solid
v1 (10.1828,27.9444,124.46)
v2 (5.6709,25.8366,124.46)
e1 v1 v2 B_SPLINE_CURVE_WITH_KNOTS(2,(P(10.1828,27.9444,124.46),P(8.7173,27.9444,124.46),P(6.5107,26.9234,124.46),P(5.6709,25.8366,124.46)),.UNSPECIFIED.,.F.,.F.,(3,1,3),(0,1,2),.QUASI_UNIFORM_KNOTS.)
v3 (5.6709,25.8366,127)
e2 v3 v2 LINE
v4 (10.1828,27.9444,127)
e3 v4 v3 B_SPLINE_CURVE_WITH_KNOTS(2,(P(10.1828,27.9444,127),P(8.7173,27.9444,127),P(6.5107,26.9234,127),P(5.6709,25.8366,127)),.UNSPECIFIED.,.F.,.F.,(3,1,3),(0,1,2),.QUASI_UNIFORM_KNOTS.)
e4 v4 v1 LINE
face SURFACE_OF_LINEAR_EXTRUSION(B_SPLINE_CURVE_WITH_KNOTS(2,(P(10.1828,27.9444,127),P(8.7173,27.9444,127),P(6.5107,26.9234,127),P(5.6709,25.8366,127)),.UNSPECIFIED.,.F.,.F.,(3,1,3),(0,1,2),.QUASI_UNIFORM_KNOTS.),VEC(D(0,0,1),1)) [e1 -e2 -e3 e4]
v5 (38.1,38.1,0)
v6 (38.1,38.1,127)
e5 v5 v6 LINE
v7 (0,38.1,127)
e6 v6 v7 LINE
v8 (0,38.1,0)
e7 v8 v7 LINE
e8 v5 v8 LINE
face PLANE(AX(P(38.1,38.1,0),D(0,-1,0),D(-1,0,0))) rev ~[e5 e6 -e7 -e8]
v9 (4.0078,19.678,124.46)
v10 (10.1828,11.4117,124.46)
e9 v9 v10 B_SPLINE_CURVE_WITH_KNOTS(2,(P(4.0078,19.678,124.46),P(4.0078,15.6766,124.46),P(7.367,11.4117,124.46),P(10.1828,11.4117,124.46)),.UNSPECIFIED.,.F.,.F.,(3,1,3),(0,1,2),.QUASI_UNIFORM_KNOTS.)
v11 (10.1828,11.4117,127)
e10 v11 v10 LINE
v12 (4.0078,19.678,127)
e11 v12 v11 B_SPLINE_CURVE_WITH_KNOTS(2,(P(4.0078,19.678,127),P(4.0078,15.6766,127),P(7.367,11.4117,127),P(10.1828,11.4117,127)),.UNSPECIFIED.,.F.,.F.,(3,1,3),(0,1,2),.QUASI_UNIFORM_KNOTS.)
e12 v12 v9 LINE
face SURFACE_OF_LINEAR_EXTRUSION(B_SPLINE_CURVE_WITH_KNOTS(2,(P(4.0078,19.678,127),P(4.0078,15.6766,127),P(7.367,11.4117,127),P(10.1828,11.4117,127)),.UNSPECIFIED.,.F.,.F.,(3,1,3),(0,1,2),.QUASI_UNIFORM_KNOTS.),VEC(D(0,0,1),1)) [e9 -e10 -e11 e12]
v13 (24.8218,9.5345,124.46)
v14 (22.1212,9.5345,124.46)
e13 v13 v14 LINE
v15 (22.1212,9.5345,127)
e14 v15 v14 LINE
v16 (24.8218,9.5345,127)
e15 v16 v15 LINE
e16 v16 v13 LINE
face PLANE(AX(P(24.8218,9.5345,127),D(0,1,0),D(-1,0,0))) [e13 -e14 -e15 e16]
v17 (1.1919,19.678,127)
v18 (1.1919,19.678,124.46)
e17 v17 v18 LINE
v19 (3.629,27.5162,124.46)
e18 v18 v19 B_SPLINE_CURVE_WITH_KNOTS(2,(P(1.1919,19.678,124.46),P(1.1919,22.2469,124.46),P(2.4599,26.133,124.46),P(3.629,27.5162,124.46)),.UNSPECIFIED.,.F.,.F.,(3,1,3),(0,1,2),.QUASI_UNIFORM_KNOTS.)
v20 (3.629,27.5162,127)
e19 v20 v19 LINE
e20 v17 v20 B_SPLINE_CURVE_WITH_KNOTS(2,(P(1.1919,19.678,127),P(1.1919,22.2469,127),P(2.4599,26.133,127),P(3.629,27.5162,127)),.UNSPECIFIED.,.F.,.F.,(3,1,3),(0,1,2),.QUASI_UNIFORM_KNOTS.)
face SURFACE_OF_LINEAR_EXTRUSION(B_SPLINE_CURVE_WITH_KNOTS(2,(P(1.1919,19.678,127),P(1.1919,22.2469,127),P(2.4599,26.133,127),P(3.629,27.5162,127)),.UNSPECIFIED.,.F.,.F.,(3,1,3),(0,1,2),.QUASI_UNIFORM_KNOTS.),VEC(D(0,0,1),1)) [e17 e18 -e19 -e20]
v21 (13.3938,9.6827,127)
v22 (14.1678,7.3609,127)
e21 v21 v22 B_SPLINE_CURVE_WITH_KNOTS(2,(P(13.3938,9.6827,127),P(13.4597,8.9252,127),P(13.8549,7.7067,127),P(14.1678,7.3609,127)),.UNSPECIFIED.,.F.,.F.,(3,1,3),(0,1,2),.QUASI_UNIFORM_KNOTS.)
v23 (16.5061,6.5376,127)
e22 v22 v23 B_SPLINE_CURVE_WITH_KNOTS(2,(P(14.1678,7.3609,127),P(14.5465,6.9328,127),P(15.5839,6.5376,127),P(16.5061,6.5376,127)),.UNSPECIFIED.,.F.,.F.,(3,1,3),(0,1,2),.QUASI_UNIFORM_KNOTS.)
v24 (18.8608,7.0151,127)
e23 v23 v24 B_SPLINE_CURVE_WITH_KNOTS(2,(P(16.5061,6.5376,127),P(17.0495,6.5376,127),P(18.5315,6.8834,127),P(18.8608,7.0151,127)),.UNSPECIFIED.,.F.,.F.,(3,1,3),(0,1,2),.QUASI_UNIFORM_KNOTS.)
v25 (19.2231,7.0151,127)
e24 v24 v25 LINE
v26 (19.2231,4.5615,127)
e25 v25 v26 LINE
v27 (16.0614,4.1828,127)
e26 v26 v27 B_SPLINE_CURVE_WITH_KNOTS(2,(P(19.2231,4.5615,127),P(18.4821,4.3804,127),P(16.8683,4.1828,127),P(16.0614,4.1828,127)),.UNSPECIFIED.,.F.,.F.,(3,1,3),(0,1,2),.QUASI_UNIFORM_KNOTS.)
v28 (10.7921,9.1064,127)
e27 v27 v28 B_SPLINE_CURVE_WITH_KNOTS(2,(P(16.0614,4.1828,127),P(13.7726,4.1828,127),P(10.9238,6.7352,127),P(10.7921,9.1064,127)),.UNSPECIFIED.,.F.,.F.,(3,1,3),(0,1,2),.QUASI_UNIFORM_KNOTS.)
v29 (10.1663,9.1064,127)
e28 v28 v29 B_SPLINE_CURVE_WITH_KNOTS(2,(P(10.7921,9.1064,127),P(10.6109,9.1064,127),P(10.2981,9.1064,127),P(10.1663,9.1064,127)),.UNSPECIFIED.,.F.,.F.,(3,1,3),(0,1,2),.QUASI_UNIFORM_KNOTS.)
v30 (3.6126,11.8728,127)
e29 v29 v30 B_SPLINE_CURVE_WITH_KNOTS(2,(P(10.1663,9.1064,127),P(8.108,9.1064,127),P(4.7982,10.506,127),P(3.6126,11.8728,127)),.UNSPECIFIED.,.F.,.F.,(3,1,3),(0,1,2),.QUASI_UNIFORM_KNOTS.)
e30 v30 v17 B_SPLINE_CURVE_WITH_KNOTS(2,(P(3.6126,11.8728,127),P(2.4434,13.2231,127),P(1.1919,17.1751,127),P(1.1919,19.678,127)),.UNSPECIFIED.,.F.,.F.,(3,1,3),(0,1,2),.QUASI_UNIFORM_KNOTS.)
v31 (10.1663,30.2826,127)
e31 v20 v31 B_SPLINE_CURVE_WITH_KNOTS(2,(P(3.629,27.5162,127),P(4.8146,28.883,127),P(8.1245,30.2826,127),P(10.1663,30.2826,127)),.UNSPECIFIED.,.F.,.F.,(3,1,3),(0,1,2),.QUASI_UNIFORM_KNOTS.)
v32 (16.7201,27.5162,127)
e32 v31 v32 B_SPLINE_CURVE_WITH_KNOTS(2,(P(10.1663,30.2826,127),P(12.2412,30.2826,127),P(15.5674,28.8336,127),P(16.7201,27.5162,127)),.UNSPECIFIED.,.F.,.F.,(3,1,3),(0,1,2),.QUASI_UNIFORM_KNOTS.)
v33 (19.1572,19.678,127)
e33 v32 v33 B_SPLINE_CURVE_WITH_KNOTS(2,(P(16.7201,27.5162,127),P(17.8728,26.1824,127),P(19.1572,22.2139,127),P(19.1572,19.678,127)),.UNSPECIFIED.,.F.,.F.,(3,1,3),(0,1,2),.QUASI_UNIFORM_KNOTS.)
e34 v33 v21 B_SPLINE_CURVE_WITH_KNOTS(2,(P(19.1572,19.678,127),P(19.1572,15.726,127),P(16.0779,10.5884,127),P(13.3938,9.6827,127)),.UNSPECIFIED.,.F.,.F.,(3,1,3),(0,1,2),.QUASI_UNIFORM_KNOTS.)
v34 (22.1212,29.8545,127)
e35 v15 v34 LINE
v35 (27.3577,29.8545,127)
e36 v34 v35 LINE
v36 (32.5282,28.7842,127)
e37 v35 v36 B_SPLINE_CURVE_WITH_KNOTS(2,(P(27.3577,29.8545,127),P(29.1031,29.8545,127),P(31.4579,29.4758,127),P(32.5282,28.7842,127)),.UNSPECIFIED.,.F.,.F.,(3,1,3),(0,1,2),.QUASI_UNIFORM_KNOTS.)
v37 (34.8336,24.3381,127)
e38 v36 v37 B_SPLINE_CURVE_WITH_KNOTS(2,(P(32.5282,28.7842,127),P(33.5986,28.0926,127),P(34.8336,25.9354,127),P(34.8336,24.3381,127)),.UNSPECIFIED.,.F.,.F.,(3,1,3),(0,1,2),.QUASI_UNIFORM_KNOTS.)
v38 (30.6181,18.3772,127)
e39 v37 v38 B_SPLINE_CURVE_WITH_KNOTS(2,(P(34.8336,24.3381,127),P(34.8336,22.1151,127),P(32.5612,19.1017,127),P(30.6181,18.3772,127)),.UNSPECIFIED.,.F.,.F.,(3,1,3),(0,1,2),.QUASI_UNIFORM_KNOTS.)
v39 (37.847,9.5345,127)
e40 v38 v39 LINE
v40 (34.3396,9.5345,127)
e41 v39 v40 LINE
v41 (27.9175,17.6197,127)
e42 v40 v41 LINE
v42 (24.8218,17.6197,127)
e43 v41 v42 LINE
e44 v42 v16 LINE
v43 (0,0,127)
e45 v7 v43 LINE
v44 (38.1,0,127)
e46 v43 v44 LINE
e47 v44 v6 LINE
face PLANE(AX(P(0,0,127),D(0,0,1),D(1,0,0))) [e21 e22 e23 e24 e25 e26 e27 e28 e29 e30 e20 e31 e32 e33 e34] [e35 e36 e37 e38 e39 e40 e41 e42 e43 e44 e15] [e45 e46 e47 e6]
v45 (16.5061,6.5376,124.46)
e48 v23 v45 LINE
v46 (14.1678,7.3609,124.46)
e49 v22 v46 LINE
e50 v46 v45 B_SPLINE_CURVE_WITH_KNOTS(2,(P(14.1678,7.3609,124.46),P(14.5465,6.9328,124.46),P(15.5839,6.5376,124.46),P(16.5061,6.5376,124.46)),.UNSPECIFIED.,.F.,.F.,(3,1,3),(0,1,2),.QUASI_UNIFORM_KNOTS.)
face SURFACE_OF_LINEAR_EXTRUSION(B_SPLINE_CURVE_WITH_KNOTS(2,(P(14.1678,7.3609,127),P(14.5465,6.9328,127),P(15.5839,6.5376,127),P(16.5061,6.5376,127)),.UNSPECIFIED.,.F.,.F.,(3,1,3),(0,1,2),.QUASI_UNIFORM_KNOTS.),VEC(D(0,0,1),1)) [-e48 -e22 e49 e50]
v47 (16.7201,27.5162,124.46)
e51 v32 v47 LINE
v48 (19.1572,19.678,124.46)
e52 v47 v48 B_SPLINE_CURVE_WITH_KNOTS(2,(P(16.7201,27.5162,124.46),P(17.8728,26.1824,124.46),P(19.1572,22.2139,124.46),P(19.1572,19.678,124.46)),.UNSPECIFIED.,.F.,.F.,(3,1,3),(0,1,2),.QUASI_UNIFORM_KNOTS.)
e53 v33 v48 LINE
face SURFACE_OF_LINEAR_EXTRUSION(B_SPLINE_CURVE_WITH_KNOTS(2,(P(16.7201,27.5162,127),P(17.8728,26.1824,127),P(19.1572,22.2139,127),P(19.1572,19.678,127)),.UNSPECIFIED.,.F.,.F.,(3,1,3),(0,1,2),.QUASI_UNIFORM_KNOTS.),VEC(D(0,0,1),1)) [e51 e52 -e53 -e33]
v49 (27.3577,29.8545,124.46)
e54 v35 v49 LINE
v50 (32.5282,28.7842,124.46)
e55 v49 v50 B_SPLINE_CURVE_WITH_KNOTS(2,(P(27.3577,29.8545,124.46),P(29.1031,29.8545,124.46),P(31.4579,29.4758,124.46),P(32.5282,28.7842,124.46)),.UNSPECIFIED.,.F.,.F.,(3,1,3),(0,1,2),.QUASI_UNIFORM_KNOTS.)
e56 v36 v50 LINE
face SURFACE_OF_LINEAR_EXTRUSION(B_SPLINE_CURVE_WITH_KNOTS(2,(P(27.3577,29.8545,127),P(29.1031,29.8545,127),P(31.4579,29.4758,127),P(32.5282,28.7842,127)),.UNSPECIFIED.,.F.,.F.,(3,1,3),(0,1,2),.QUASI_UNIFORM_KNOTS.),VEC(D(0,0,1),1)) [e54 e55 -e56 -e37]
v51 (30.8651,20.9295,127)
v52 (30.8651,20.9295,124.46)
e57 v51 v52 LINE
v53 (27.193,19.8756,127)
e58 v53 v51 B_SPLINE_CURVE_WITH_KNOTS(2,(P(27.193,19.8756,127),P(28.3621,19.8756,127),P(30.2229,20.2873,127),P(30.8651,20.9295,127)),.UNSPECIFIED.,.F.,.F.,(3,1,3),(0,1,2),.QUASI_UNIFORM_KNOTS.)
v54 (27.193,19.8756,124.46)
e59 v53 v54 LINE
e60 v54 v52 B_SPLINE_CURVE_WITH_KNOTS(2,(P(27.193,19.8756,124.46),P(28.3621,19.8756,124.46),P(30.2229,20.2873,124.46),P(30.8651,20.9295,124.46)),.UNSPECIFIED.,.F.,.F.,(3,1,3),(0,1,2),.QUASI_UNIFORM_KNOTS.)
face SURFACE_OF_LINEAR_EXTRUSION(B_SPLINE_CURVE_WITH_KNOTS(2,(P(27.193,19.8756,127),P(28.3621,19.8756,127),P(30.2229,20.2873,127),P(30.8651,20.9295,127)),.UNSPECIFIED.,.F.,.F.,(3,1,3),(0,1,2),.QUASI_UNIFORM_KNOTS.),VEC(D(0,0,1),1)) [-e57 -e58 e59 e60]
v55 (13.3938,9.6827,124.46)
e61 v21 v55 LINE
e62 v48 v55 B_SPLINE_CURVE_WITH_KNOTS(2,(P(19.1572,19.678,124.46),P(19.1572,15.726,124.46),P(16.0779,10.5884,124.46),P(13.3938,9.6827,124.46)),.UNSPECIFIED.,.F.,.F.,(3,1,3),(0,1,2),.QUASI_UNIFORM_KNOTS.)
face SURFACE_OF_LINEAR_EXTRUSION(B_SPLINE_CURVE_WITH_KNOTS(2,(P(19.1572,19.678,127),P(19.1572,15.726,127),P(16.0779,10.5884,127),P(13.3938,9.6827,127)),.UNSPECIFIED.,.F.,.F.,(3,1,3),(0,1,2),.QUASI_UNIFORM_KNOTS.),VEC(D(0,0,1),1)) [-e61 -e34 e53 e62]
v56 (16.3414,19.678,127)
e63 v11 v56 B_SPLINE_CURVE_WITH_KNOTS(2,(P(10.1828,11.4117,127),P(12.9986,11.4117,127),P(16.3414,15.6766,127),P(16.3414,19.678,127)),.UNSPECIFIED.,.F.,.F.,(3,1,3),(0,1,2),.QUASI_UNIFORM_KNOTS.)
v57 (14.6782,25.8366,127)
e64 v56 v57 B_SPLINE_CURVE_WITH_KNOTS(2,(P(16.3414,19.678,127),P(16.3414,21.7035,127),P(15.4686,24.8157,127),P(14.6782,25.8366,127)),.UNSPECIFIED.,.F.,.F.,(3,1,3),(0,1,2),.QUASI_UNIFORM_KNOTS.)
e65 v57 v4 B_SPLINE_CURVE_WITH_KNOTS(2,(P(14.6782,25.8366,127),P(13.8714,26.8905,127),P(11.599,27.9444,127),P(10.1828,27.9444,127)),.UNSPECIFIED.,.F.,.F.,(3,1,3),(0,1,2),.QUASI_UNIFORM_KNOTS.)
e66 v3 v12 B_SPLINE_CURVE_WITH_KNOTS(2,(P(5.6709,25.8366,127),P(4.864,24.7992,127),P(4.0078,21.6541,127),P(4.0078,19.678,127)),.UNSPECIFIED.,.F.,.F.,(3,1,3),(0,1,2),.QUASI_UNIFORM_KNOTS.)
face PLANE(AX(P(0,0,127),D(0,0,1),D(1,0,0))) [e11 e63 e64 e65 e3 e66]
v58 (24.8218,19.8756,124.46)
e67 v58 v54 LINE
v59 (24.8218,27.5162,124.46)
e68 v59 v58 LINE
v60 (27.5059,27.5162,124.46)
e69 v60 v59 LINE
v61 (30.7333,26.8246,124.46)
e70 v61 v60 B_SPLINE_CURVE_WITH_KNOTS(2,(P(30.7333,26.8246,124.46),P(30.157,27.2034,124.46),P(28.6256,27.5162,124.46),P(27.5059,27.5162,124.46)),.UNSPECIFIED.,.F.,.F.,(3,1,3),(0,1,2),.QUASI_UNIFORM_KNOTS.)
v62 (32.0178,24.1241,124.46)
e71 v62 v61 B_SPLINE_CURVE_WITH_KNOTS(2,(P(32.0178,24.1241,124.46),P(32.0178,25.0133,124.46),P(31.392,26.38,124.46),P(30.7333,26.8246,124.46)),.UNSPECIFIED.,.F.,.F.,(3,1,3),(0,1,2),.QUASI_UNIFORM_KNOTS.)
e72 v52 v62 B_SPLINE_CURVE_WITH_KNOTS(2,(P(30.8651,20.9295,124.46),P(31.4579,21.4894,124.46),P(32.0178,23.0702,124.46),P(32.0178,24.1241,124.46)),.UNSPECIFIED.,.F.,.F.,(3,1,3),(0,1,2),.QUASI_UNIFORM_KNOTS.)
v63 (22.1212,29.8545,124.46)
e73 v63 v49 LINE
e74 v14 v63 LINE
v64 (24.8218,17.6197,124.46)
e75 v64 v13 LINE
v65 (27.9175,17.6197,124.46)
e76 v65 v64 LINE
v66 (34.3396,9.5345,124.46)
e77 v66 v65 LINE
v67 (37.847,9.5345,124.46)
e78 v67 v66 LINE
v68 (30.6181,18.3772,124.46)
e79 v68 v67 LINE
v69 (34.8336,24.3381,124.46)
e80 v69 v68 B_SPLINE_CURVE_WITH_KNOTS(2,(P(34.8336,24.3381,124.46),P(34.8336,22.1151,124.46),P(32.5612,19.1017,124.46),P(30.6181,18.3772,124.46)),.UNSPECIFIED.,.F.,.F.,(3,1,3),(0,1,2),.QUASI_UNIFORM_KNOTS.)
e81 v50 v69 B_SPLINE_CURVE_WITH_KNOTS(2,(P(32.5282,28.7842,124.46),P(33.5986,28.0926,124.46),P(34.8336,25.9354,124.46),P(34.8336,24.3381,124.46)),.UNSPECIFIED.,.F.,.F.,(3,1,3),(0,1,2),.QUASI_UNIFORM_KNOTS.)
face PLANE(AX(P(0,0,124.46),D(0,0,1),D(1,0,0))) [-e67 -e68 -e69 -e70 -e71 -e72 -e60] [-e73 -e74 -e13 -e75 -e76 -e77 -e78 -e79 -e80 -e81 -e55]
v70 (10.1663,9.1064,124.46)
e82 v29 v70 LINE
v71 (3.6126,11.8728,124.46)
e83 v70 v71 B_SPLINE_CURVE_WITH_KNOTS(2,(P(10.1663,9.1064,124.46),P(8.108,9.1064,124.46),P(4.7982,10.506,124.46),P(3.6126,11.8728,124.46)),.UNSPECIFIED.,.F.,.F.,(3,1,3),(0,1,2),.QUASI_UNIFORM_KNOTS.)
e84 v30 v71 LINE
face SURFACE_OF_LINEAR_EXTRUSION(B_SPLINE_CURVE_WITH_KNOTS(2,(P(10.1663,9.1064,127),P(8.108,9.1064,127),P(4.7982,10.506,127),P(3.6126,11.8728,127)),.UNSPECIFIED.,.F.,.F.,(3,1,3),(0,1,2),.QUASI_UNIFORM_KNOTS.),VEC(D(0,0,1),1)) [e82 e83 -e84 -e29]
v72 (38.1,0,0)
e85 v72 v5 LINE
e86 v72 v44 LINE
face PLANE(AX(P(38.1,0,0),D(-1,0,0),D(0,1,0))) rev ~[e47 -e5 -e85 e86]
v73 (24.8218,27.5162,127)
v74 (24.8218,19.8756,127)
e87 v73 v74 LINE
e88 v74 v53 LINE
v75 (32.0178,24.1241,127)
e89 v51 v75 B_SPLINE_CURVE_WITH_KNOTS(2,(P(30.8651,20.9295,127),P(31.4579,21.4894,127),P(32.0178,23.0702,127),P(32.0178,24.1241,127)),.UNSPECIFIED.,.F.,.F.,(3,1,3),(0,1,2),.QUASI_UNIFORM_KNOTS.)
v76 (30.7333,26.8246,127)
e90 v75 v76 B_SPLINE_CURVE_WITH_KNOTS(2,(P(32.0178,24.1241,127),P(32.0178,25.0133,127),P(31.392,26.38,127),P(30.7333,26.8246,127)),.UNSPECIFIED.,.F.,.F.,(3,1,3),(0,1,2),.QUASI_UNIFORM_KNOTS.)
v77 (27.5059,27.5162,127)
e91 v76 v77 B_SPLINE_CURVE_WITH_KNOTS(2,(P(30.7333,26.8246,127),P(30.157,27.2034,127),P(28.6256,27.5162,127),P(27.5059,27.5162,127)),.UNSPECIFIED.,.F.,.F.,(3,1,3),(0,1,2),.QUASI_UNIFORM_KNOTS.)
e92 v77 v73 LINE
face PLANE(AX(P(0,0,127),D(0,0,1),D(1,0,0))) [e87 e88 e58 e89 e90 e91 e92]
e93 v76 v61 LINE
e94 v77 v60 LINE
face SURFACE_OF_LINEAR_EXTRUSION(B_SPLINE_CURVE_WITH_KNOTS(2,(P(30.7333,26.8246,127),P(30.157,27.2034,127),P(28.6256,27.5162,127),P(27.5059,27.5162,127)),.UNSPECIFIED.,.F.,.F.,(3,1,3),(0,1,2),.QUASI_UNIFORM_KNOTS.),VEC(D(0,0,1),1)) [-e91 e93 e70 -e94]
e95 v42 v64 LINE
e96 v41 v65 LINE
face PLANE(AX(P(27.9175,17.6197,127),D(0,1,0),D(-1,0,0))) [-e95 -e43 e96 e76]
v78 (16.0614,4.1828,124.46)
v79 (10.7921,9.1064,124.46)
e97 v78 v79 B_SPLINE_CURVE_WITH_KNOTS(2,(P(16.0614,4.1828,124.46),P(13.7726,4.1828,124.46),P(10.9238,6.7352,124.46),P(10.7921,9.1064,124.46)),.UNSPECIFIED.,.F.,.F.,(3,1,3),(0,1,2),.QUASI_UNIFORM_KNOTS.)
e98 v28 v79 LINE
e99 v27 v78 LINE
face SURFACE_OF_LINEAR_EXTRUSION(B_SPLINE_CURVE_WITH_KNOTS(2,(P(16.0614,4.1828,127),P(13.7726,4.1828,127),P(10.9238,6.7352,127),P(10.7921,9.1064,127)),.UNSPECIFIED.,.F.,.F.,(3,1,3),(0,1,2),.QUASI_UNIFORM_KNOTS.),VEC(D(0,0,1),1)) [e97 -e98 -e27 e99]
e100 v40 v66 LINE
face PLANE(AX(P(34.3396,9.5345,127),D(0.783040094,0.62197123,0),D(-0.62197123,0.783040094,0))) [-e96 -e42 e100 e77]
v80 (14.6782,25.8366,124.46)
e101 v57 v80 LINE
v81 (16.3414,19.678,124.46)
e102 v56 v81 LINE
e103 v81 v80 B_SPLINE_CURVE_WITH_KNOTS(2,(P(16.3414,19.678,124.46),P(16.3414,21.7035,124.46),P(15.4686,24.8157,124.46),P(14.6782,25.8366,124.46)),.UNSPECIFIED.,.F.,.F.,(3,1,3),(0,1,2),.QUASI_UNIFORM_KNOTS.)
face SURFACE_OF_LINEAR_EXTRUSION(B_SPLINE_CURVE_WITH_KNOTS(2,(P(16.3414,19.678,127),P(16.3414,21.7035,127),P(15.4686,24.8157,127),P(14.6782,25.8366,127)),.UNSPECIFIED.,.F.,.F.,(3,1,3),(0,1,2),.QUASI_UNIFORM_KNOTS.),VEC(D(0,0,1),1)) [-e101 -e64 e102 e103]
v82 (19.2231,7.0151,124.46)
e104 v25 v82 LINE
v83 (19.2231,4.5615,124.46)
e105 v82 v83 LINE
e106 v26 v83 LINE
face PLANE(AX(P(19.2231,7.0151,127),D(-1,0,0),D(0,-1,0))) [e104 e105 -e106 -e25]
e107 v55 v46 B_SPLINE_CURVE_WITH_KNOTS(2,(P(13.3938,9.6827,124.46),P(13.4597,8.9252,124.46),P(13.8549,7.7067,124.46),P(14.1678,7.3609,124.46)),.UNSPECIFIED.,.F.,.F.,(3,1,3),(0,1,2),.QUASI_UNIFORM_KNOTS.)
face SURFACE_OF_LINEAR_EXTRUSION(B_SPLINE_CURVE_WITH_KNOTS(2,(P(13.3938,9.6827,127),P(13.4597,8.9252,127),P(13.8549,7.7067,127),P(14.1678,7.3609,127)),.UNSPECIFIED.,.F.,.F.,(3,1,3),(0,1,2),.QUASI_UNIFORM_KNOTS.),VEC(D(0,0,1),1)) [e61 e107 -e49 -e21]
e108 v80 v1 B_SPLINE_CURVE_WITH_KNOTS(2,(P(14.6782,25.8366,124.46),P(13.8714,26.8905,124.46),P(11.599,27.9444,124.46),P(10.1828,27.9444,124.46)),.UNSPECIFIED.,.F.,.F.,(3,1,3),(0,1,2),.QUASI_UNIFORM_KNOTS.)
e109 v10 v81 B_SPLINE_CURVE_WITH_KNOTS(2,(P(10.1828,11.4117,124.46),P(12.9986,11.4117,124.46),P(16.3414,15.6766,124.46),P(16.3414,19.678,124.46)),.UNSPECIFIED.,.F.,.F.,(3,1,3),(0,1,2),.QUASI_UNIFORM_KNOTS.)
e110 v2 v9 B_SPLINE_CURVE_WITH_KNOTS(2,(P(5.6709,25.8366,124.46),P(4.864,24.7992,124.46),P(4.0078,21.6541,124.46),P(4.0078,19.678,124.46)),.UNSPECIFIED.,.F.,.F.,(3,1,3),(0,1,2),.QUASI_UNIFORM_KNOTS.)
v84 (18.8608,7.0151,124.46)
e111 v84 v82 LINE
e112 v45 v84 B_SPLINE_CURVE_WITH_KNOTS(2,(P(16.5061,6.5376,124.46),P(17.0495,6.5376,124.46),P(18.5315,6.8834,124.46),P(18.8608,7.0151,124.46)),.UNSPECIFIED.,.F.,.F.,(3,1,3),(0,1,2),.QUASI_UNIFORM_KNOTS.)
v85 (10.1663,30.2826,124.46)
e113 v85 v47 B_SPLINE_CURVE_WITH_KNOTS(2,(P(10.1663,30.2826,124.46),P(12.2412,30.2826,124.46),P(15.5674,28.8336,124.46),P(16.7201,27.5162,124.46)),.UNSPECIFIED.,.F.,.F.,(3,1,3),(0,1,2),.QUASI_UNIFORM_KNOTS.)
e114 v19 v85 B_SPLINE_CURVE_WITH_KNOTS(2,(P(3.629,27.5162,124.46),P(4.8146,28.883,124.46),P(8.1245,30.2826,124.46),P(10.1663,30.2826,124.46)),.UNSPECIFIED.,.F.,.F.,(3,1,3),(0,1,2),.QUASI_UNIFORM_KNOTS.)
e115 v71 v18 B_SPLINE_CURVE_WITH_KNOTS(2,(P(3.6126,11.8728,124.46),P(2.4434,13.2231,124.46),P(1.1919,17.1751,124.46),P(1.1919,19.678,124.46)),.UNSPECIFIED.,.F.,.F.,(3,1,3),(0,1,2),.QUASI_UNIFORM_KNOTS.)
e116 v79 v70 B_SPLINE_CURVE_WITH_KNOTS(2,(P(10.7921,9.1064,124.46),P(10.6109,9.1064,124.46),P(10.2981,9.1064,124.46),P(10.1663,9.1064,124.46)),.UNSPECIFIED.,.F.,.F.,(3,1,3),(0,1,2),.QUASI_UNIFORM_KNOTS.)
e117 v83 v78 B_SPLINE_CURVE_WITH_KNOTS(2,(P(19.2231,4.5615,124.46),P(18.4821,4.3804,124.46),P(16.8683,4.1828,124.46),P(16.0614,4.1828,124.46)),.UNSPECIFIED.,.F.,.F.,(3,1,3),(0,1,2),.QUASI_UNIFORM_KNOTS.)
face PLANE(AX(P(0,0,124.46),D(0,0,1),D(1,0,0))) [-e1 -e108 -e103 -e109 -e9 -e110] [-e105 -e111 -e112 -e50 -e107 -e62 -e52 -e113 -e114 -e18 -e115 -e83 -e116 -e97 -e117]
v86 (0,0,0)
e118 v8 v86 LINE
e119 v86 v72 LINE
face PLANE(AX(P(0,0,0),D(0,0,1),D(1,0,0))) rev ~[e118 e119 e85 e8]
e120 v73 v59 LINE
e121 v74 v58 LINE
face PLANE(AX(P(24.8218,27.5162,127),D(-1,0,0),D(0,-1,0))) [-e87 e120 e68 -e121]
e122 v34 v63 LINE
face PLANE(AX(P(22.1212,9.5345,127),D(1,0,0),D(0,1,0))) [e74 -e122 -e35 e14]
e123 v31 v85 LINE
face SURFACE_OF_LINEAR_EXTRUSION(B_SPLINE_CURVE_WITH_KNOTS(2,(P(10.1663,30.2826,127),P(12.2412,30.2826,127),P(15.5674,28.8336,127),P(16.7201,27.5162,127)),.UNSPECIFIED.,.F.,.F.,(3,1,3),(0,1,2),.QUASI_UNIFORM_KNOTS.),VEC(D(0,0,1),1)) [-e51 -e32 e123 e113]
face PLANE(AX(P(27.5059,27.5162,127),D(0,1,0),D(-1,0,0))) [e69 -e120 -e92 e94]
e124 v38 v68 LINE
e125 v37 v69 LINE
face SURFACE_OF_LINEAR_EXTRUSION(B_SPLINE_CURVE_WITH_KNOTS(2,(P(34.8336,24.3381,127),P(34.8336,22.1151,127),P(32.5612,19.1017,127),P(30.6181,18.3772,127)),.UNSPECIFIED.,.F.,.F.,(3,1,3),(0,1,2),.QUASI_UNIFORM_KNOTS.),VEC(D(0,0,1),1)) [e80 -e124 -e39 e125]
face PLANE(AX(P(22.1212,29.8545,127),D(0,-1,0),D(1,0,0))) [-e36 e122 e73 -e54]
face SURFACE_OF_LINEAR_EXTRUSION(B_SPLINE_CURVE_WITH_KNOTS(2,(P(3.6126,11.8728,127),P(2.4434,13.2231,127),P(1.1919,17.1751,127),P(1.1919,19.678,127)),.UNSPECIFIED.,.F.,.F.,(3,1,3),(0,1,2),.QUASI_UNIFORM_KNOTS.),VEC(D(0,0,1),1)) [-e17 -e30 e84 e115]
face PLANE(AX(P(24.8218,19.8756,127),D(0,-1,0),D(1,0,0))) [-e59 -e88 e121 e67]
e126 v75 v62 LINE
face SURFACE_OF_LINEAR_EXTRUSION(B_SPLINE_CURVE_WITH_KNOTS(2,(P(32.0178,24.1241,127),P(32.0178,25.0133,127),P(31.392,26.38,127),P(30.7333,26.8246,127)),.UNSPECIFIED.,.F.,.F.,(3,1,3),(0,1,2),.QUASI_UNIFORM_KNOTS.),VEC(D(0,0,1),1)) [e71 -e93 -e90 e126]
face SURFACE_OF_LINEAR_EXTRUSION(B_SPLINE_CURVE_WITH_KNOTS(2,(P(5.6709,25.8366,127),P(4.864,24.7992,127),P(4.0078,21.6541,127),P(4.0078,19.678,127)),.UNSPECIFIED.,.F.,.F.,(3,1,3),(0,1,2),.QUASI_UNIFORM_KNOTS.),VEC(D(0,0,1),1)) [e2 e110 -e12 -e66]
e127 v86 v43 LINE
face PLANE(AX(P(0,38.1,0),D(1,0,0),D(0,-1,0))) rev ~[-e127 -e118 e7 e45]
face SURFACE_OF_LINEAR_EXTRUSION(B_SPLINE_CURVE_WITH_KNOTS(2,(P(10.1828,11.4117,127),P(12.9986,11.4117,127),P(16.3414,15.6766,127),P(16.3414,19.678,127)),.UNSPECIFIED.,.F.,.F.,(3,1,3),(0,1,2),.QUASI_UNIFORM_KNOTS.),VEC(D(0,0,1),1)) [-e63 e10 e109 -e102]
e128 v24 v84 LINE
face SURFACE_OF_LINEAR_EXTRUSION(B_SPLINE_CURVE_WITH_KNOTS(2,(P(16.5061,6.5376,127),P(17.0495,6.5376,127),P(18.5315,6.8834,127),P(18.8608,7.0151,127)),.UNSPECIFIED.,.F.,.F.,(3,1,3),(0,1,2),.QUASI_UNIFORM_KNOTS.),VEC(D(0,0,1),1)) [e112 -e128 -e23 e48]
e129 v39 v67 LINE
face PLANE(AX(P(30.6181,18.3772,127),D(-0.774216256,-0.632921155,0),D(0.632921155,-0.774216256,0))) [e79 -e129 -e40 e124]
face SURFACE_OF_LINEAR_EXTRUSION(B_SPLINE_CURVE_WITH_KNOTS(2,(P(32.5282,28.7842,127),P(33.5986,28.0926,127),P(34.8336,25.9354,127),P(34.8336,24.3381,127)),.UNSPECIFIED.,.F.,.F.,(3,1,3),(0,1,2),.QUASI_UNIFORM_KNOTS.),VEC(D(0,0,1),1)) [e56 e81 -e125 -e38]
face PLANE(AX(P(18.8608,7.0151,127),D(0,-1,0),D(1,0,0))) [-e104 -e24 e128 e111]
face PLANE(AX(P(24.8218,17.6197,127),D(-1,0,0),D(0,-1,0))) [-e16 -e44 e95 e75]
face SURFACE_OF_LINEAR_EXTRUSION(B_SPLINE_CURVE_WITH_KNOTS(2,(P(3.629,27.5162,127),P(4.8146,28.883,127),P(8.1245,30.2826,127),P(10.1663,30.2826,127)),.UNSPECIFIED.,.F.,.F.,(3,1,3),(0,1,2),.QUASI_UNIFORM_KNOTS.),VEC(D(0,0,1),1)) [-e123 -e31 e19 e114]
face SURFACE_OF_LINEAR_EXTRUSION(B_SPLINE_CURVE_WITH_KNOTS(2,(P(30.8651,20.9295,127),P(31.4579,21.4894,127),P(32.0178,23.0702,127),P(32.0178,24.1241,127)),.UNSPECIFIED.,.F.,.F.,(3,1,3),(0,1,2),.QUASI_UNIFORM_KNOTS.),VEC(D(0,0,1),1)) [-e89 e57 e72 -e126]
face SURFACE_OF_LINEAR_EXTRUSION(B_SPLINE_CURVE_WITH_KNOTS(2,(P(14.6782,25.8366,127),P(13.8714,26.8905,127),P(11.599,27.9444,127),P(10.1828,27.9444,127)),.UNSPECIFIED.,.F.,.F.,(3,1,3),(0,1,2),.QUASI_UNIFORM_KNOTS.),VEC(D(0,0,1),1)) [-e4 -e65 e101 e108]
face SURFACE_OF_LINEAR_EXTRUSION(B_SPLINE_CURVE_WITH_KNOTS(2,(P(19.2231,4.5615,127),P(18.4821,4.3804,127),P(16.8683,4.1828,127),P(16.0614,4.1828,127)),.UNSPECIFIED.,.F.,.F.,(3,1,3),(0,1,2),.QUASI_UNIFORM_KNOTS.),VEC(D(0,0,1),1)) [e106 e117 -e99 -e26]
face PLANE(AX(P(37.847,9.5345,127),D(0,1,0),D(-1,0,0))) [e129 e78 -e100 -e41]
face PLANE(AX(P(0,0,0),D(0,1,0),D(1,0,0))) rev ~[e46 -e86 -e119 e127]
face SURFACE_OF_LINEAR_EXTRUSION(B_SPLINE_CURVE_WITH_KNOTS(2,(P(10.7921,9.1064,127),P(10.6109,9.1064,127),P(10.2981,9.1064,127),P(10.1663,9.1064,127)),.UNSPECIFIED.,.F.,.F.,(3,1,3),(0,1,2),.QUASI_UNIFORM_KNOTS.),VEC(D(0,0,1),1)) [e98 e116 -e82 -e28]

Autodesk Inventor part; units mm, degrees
ref_plane "YZ Plane" through (0, 0, 0) normal (1, 0, 0) x (0, 1, 0)
ref_plane "XZ Plane" through (0, 0, 0) normal (0, 1, 0) x (-1, 0, 0)
ref_plane "XY Plane" through (0, 0, 0) normal (0, 0, 1) x (1, 0, 0)
sketch "Sketch1" plane through (0, 0, 0) normal (0, 0, 1) x (1, 0, 0)
  line L0 (0, 0) -> (38.1, 0)
  line L1 (38.1, 0) -> (38.1, 38.1)
  line L2 (38.1, 38.1) -> (0, 38.1)
  line L3 (0, 38.1) -> (0, 0)
  dimension "d0" = 38.1
  dimension "d1" = 38.1
extrude "Extrusion1" add sketch "Sketch1" along normal blind 127
sketch "Sketch2" plane through (0, 0, 127) normal (0, 0, 1) x (1, 0, 0)
  line L0 (0.2863, 30.2826) -> (46.6814, 30.2826) construction
  line L1 (46.6814, 30.2826) -> (46.6814, -2.3422) construction
  line L2 (46.6814, -2.3422) -> (0.2863, -2.3422) construction
  line L3 (0.2863, -2.3422) -> (0.2863, 30.2826) construction
  spline S0 degree 2 poles (19.2231, 4.5615) (18.4821, 4.3804) (16.8683, 4.1828) (16.0614, 4.1828) knots 0 0 0 1 2 2 2
  spline S1 degree 2 poles (16.0614, 4.1828) (13.7726, 4.1828) (10.9238, 6.7352) (10.7921, 9.1064) knots 0 0 0 1 2 2 2
  spline S2 degree 2 poles (10.7921, 9.1064) (10.6109, 9.1064) (10.2981, 9.1064) (10.1663, 9.1064) knots 0 0 0 1 2 2 2
  spline S3 degree 2 poles (10.1663, 9.1064) (8.108, 9.1064) (4.7982, 10.506) (3.6126, 11.8728) knots 0 0 0 1 2 2 2
  spline S4 degree 2 poles (3.6126, 11.8728) (2.4434, 13.2231) (1.1919, 17.1751) (1.1919, 19.678) knots 0 0 0 1 2 2 2
  spline S5 degree 2 poles (1.1919, 19.678) (1.1919, 22.2469) (2.4599, 26.133) (3.629, 27.5162) knots 0 0 0 1 2 2 2
  spline S6 degree 2 poles (3.629, 27.5162) (4.8146, 28.883) (8.1245, 30.2826) (10.1663, 30.2826) knots 0 0 0 1 2 2 2
  spline S7 degree 2 poles (10.1663, 30.2826) (12.2412, 30.2826) (15.5674, 28.8336) (16.7201, 27.5162) knots 0 0 0 1 2 2 2
  spline S8 degree 2 poles (16.7201, 27.5162) (17.8728, 26.1824) (19.1572, 22.2139) (19.1572, 19.678) knots 0 0 0 1 2 2 2
  spline S9 degree 2 poles (19.1572, 19.678) (19.1572, 15.726) (16.0779, 10.5884) (13.3938, 9.6827) knots 0 0 0 1 2 2 2
  spline S10 degree 2 poles (13.3938, 9.6827) (13.4597, 8.9252) (13.8549, 7.7067) (14.1678, 7.3609) knots 0 0 0 1 2 2 2
  spline S11 degree 2 poles (14.1678, 7.3609) (14.5465, 6.9328) (15.5839, 6.5376) (16.5061, 6.5376) knots 0 0 0 1 2 2 2
  spline S12 degree 2 poles (16.5061, 6.5376) (17.0495, 6.5376) (18.5315, 6.8834) (18.8608, 7.0151) knots 0 0 0 1 2 2 2
  line L4 (18.8608, 7.0151) -> (19.2231, 7.0151)
  line L5 (19.2231, 7.0151) -> (19.2231, 4.5615)
  spline S13 degree 2 poles (16.3414, 19.678) (16.3414, 21.7035) (15.4686, 24.8157) (14.6782, 25.8366) knots 0 0 0 1 2 2 2
  spline S14 degree 2 poles (14.6782, 25.8366) (13.8714, 26.8905) (11.599, 27.9444) (10.1828, 27.9444) knots 0 0 0 1 2 2 2
  spline S15 degree 2 poles (10.1828, 27.9444) (8.7173, 27.9444) (6.5107, 26.9234) (5.6709, 25.8366) knots 0 0 0 1 2 2 2
  spline S16 degree 2 poles (5.6709, 25.8366) (4.864, 24.7992) (4.0078, 21.6541) (4.0078, 19.678) knots 0 0 0 1 2 2 2
  spline S17 degree 2 poles (4.0078, 19.678) (4.0078, 15.6766) (7.367, 11.4117) (10.1828, 11.4117) knots 0 0 0 1 2 2 2
  spline S18 degree 2 poles (10.1828, 11.4117) (12.9986, 11.4117) (16.3414, 15.6766) (16.3414, 19.678) knots 0 0 0 1 2 2 2
  line L6 (37.847, 9.5345) -> (34.3396, 9.5345)
  line L7 (34.3396, 9.5345) -> (27.9175, 17.6197)
  line L8 (27.9175, 17.6197) -> (24.8218, 17.6197)
  line L9 (24.8218, 17.6197) -> (24.8218, 9.5345)
  line L10 (24.8218, 9.5345) -> (22.1212, 9.5345)
  line L11 (22.1212, 9.5345) -> (22.1212, 29.8545)
  line L12 (22.1212, 29.8545) -> (27.3577, 29.8545)
  spline S19 degree 2 poles (27.3577, 29.8545) (29.1031, 29.8545) (31.4579, 29.4758) (32.5282, 28.7842) knots 0 0 0 1 2 2 2
  spline S20 degree 2 poles (32.5282, 28.7842) (33.5986, 28.0926) (34.8336, 25.9354) (34.8336, 24.3381) knots 0 0 0 1 2 2 2
  spline S21 degree 2 poles (34.8336, 24.3381) (34.8336, 22.1151) (32.5612, 19.1017) (30.6181, 18.3772) knots 0 0 0 1 2 2 2
  line L13 (30.6181, 18.3772) -> (37.847, 9.5345)
  spline S22 degree 2 poles (32.0178, 24.1241) (32.0178, 25.0133) (31.392, 26.38) (30.7333, 26.8246) knots 0 0 0 1 2 2 2
  spline S23 degree 2 poles (30.7333, 26.8246) (30.157, 27.2034) (28.6256, 27.5162) (27.5059, 27.5162) knots 0 0 0 1 2 2 2
  line L14 (27.5059, 27.5162) -> (24.8218, 27.5162)
  line L15 (24.8218, 27.5162) -> (24.8218, 19.8756)
  line L16 (24.8218, 19.8756) -> (27.193, 19.8756)
  spline S24 degree 2 poles (27.193, 19.8756) (28.3621, 19.8756) (30.2229, 20.2873) (30.8651, 20.9295) knots 0 0 0 1 2 2 2
  spline S25 degree 2 poles (30.8651, 20.9295) (31.4579, 21.4894) (32.0178, 23.0702) (32.0178, 24.1241) knots 0 0 0 1 2 2 2
  point P0 (0, 0)
extrude "Extrusion2" cut sketch "Sketch2" against normal blind 2.54
properties part number "Container 2 2 5 QR color 4"
